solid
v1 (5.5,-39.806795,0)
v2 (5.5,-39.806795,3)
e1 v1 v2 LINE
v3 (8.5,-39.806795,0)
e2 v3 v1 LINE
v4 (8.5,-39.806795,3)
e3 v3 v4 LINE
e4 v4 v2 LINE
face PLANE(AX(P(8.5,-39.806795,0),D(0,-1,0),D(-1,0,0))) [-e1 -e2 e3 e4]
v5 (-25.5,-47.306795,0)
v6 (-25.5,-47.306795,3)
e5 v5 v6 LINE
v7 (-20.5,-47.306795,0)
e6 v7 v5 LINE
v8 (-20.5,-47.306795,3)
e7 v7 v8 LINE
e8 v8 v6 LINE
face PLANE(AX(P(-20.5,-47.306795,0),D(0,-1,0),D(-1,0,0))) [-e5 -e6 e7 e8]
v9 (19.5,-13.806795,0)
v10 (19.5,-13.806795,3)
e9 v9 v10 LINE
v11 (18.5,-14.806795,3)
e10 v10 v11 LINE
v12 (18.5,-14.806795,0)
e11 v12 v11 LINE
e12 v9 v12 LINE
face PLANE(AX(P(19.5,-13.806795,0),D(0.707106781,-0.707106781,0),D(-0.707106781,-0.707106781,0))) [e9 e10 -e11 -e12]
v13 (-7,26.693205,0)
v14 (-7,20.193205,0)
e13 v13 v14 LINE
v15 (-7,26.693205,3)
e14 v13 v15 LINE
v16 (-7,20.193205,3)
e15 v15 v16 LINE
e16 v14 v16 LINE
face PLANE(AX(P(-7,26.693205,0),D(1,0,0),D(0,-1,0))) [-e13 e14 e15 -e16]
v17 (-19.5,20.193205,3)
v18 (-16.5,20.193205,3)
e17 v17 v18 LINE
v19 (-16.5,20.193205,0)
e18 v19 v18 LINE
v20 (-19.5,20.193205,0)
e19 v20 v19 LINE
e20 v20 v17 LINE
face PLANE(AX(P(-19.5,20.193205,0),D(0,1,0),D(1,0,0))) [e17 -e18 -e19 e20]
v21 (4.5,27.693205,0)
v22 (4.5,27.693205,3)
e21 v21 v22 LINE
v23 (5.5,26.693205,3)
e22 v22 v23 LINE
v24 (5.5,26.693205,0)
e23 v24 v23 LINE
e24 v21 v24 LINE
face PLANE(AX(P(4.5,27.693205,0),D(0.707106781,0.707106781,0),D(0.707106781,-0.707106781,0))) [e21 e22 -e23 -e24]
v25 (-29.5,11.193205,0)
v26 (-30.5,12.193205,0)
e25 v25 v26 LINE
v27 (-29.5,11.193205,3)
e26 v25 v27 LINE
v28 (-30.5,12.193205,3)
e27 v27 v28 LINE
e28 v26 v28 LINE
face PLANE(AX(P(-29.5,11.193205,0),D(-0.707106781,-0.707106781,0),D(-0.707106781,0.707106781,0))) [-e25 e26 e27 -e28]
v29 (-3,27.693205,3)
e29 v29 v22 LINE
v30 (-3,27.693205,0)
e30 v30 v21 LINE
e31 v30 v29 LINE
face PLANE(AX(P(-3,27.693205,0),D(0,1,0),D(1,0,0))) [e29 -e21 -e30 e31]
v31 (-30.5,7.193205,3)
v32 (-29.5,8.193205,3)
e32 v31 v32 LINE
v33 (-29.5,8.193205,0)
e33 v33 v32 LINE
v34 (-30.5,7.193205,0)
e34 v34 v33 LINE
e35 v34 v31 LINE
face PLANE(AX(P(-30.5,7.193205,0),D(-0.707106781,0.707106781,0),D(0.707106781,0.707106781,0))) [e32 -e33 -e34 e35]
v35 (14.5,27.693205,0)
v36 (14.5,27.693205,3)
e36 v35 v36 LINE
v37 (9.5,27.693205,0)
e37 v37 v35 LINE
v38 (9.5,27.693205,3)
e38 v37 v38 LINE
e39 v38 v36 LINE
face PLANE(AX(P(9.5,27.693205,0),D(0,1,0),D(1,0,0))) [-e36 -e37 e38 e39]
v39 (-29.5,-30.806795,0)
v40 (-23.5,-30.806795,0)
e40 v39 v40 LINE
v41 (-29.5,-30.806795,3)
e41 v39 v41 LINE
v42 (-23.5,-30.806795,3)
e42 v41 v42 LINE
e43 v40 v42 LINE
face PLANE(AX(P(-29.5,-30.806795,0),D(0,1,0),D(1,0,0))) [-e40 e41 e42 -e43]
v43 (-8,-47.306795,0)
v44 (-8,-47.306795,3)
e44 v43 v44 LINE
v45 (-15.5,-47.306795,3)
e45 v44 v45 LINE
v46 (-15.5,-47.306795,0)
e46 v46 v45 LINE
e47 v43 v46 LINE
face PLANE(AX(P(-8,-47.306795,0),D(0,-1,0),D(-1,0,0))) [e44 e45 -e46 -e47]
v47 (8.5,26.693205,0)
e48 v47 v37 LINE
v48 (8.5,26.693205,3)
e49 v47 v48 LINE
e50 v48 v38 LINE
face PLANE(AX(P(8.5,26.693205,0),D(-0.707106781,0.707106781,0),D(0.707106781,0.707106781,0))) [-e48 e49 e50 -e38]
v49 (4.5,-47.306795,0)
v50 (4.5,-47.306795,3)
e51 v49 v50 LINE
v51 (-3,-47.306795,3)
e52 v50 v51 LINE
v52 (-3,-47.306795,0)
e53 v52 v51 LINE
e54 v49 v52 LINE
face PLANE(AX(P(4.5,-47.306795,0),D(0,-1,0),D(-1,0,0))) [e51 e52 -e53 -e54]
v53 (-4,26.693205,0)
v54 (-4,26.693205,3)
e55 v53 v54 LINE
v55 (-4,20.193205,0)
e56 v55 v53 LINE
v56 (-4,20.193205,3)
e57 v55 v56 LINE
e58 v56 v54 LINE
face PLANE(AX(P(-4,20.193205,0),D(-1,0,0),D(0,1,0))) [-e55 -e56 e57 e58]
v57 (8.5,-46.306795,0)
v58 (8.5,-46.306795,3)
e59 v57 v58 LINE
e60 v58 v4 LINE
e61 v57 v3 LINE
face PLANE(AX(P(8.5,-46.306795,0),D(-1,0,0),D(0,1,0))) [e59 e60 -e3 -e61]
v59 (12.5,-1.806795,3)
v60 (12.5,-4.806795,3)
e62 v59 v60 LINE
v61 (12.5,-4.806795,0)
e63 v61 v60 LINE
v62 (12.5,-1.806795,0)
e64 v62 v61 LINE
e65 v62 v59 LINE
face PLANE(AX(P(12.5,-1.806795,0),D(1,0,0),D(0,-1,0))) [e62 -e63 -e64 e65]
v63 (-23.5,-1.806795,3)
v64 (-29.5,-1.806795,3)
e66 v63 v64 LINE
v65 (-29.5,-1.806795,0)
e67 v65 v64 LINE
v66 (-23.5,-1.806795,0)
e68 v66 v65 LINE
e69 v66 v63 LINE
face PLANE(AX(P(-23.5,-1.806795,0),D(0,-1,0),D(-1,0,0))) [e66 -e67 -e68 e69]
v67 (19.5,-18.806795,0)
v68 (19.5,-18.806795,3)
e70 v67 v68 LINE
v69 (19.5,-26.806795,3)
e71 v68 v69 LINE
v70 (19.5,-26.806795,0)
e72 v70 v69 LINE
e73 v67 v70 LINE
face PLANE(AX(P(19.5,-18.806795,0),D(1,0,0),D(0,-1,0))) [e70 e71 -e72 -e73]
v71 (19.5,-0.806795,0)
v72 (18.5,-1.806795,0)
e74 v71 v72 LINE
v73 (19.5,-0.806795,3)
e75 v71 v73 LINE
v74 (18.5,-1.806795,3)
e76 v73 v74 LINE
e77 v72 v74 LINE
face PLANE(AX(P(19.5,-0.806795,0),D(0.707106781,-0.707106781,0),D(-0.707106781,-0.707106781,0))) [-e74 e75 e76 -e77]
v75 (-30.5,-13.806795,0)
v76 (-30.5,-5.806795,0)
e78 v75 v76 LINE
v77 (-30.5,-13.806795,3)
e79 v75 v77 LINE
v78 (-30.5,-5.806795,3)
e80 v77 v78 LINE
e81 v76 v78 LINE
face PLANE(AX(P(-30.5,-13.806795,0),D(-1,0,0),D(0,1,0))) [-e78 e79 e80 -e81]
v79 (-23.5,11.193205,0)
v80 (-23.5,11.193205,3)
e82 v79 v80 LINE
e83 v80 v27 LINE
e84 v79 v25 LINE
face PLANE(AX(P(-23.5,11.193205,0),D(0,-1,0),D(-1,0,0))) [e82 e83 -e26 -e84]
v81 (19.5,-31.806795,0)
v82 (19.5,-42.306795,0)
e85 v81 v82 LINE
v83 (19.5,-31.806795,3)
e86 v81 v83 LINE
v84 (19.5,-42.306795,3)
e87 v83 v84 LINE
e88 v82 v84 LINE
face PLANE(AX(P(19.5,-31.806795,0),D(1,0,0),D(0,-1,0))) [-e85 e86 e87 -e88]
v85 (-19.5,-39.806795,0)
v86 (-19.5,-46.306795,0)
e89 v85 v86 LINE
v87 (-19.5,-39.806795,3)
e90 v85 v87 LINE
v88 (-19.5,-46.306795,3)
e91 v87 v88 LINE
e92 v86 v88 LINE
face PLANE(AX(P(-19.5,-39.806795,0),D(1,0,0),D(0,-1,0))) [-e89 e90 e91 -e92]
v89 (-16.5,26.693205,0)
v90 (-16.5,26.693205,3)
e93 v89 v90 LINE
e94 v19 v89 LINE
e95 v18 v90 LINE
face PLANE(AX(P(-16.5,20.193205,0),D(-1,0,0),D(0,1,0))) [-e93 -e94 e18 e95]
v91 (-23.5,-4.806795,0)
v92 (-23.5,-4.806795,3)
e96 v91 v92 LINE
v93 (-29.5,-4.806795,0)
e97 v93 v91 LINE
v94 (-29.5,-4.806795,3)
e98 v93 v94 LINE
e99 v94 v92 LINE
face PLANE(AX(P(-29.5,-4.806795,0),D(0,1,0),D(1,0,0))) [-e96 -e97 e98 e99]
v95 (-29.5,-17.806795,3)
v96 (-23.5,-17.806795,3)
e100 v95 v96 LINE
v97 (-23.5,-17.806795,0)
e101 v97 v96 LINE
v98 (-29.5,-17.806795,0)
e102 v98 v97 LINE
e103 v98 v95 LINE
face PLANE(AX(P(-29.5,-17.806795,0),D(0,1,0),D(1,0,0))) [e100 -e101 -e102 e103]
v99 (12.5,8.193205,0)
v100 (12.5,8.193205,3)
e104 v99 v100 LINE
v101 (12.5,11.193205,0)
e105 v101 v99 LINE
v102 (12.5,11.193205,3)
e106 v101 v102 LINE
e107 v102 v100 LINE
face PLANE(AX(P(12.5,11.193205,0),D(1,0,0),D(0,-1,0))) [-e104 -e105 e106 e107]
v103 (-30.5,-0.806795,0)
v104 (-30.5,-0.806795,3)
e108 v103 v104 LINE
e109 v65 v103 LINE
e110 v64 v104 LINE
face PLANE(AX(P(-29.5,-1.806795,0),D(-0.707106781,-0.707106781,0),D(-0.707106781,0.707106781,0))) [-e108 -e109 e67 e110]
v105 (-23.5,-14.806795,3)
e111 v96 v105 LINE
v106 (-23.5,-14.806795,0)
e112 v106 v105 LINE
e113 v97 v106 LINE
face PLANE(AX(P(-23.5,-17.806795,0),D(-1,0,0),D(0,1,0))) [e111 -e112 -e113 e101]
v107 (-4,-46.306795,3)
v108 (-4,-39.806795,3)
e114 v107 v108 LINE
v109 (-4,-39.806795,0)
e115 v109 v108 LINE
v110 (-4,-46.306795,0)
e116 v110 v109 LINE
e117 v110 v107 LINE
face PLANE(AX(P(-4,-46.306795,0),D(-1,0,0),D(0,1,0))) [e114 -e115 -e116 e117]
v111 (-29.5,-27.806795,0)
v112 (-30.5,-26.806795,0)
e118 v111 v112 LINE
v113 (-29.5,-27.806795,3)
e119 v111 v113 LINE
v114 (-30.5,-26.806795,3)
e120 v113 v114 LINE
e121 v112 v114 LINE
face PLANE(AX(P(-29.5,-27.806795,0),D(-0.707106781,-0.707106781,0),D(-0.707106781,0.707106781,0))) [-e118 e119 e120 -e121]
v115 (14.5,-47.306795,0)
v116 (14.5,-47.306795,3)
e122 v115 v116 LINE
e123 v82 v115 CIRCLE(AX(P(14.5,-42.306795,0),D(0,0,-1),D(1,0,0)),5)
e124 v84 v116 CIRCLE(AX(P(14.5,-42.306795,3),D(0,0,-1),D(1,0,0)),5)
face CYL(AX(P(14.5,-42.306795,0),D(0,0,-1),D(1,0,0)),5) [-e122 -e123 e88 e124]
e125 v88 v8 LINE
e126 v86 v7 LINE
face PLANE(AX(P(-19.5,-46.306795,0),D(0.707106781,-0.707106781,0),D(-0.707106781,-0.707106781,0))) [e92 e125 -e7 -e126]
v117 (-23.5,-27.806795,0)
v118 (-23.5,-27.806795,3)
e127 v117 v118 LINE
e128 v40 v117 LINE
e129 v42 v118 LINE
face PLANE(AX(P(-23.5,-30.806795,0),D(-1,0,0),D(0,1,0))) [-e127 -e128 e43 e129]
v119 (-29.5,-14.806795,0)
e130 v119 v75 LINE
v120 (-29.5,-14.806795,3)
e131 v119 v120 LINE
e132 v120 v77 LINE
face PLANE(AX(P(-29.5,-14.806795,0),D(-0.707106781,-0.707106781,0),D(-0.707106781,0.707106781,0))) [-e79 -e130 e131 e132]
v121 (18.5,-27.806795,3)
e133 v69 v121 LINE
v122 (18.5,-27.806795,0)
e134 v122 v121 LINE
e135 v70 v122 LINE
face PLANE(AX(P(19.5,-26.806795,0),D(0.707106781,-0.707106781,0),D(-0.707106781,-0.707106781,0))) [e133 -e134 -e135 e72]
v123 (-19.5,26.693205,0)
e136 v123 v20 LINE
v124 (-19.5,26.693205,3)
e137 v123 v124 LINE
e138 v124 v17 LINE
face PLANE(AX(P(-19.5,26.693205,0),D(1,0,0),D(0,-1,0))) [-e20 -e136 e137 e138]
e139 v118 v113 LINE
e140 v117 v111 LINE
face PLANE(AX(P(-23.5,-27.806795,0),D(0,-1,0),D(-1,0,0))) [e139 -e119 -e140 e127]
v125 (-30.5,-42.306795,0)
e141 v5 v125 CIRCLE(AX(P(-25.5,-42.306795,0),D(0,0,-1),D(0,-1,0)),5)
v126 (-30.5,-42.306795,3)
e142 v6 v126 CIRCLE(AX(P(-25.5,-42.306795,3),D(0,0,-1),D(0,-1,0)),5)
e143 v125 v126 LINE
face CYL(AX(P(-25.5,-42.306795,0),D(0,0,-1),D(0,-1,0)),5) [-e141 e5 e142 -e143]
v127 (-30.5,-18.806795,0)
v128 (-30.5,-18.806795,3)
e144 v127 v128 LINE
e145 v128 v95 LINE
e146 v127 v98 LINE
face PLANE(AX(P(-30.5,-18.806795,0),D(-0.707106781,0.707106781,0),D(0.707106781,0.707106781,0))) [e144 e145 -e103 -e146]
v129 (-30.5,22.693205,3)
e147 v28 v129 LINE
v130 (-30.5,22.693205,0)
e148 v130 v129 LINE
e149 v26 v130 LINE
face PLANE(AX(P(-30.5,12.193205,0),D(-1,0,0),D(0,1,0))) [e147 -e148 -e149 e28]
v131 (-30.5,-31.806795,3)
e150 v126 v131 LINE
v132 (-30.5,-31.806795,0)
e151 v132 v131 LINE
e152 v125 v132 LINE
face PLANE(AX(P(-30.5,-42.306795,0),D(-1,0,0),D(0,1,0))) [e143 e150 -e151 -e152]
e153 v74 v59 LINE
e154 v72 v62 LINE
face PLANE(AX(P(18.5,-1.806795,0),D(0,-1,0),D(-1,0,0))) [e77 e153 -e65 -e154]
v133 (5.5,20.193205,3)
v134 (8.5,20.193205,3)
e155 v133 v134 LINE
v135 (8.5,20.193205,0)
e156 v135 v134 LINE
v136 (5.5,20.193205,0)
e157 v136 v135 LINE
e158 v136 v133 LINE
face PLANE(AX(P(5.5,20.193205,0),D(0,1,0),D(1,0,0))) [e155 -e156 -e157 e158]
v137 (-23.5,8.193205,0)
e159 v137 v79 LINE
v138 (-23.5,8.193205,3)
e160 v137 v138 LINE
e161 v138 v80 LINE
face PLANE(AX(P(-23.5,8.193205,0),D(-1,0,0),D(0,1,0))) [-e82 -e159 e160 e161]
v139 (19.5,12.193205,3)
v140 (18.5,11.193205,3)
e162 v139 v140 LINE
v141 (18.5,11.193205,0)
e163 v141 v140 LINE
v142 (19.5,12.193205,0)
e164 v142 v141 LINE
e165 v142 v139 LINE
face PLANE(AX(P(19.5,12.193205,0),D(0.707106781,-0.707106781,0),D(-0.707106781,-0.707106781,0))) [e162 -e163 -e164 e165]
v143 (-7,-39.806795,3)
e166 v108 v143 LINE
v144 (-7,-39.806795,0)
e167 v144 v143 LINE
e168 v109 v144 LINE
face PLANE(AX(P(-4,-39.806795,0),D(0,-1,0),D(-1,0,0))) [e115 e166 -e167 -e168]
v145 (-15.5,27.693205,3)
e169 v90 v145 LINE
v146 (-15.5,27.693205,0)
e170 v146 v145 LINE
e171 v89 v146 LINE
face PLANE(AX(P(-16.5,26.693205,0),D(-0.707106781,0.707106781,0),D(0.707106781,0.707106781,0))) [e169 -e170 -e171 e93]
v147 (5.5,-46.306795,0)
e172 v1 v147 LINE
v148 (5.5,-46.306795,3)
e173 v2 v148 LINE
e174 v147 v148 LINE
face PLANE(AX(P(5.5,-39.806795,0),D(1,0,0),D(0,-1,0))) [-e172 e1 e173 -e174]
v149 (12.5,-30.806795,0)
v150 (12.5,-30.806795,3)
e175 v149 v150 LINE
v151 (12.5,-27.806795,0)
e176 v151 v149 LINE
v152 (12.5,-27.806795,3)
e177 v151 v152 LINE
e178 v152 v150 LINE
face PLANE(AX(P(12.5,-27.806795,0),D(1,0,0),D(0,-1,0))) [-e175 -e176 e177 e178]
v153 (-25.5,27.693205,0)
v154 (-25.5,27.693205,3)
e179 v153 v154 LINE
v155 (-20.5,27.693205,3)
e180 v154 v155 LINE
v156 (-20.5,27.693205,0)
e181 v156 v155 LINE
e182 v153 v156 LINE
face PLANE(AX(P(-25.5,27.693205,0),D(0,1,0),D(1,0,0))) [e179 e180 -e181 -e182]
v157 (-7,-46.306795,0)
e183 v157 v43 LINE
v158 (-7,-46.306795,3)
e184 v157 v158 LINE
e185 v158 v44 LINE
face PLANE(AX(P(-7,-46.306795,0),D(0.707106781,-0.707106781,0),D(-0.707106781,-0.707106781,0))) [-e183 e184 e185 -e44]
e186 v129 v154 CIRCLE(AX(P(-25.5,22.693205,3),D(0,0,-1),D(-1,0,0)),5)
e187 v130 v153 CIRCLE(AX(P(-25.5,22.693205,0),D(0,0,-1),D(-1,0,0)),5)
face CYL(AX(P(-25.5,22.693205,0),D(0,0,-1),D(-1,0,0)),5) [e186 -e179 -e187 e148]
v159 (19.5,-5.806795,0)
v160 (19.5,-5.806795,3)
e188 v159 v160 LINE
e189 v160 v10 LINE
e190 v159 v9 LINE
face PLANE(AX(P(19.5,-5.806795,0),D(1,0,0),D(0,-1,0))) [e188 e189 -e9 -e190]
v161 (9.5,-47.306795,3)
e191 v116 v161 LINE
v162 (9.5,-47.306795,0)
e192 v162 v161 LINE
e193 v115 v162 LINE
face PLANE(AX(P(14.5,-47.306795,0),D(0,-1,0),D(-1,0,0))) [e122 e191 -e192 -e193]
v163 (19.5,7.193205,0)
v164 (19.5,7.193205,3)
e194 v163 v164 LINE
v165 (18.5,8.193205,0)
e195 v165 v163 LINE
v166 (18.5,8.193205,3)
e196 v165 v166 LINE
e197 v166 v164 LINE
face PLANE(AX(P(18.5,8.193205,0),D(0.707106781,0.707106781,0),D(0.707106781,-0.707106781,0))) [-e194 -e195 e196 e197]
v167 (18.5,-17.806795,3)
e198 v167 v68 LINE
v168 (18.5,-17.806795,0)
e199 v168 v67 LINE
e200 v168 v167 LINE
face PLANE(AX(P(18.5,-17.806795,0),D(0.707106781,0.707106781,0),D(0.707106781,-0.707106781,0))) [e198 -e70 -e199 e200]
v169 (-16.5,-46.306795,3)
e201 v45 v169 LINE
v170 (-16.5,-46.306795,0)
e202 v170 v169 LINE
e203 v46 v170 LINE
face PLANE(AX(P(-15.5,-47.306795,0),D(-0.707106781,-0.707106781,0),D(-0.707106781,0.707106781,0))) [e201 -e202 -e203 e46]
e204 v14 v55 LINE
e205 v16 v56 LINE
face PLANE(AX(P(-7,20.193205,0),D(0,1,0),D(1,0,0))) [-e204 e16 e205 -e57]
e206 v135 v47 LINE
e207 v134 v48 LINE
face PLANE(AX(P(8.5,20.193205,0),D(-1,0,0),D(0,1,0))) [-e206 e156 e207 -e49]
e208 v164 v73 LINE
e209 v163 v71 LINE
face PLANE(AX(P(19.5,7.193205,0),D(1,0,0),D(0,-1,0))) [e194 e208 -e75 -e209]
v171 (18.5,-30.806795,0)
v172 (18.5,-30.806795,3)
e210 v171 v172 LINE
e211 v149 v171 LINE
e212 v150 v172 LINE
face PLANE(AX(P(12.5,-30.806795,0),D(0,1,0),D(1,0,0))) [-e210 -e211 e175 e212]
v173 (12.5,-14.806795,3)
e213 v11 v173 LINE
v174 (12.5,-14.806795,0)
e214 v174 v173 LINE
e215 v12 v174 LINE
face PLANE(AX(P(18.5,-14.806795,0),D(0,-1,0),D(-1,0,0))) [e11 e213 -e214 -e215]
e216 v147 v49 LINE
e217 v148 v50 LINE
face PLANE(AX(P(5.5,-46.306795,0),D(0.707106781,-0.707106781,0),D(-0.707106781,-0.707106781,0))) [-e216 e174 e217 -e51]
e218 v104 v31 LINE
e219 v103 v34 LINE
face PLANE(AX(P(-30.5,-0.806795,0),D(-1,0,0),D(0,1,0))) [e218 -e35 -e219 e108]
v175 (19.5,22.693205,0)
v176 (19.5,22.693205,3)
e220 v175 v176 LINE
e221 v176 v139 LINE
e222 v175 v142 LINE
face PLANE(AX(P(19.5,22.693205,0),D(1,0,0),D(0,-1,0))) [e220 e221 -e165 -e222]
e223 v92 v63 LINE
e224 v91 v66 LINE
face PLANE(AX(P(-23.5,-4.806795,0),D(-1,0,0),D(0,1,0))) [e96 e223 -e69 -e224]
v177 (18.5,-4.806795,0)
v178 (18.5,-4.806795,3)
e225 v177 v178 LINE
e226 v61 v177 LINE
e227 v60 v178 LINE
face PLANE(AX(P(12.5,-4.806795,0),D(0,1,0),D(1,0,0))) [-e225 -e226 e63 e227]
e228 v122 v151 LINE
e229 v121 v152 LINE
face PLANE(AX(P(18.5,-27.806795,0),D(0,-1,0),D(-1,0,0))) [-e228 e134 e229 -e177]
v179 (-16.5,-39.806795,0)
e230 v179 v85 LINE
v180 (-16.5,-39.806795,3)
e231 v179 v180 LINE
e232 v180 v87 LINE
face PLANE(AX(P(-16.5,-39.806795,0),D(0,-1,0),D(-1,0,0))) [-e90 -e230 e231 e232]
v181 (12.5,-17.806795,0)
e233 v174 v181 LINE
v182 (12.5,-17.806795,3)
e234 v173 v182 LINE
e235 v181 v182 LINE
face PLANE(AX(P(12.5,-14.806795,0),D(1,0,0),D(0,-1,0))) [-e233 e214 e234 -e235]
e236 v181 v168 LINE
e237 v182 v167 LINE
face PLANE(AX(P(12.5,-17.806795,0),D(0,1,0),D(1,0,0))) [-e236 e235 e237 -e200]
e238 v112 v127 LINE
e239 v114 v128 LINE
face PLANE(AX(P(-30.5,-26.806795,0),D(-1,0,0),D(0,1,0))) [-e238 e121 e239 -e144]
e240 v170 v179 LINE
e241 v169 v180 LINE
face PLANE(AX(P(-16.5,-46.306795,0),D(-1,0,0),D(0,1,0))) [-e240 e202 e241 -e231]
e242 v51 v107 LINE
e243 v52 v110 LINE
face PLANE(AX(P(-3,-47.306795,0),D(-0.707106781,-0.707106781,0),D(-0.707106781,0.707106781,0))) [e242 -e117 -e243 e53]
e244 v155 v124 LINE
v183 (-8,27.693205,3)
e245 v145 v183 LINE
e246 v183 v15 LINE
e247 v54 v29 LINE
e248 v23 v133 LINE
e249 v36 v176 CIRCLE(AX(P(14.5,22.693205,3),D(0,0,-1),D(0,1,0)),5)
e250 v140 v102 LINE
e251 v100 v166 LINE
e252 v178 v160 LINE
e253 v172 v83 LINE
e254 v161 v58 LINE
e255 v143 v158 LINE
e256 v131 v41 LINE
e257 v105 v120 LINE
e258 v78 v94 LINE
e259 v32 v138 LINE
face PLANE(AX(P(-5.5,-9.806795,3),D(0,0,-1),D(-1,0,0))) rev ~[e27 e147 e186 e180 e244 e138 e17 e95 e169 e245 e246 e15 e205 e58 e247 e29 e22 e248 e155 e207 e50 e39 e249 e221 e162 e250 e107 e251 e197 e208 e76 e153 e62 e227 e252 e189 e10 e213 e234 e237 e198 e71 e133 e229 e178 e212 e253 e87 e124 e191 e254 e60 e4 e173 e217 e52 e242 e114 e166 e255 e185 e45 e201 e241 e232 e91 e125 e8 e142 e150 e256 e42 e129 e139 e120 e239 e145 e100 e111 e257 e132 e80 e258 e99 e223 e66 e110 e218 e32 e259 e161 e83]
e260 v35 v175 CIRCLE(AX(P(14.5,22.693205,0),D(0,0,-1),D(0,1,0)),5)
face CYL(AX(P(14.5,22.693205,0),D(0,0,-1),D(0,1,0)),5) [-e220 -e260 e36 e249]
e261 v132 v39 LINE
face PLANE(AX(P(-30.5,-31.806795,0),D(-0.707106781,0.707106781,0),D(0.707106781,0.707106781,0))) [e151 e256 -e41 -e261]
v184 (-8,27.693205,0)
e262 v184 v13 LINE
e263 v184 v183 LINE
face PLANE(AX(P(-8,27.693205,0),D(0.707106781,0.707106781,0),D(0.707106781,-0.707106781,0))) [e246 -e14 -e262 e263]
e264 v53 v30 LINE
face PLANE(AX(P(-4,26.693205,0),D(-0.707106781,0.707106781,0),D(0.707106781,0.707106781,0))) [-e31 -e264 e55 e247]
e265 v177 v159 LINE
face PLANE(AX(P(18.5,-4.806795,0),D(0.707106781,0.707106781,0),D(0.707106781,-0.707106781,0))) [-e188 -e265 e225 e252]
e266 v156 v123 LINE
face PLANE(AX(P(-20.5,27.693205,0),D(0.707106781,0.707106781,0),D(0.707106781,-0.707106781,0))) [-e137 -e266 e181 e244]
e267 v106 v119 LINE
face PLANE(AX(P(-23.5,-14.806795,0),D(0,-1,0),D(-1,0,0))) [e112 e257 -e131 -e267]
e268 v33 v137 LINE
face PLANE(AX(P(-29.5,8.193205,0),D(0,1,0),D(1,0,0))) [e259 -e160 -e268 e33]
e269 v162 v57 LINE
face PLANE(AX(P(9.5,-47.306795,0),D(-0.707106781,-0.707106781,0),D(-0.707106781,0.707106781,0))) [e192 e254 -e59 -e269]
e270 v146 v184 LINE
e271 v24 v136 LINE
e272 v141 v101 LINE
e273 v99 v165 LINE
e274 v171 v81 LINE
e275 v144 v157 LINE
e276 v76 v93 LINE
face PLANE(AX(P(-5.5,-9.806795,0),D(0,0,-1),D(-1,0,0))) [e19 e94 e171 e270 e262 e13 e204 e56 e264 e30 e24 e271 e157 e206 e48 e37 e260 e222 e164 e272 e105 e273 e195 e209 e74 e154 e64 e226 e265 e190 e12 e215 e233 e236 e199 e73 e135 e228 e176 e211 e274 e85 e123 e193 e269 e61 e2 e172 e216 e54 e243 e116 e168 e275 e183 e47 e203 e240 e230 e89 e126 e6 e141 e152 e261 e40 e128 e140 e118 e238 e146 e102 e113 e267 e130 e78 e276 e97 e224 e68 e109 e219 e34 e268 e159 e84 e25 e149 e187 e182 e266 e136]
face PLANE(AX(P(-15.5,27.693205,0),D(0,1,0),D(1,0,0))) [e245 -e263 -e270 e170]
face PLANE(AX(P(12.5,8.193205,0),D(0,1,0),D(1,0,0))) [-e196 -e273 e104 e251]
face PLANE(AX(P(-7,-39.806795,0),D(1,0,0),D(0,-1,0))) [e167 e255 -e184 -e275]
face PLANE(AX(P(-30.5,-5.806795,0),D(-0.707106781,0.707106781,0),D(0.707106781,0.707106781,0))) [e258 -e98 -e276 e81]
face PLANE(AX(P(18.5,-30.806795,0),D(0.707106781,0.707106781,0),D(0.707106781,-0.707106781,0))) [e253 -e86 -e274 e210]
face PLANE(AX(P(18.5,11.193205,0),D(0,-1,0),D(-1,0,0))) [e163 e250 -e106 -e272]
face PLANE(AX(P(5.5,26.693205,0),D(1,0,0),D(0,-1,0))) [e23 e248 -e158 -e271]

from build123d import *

# Parameters (mm, degrees)
BOSS_EXTRUDE1_DEPTH = 3


with BuildPart() as part:
    # Sketch1 → Boss-Extrude1 (new body)
    with BuildSketch(Plane.XY):
        with BuildLine():
            Line((-15.5, 27.693204924), (-8, 27.693204924))
            Line((-8, 27.693204924), (-7, 26.693204924))
            Line((-7, 26.693204924), (-7, 20.193204924))
            Line((-7, 20.193204924), (-4, 20.193204924))
            Line((-4, 20.193204924), (-4, 26.693204924))
            Line((-4, 26.693204924), (-3, 27.693204924))
            Line((-3, 27.693204924), (4.5, 27.693204924))
            Line((4.5, 27.693204924), (5.5, 26.693204924))
            Line((5.5, 26.693204924), (5.5, 20.193204924))
            Line((5.5, 20.193204924), (8.5, 20.193204924))
            Line((8.5, 20.193204924), (8.5, 26.693204924))
            Line((8.5, 26.693204924), (9.5, 27.693204924))
            Line((9.5, 27.693204924), (14.5, 27.693204924))
            ThreePointArc((14.5, 27.693204924), (18.035533906, 26.22873883), (19.5, 22.693204924))
            Line((19.5, 22.693204924), (19.5, 12.193204924))
            Line((19.5, 12.193204924), (18.5, 11.193204924))
            Line((18.5, 11.193204924), (12.5, 11.193204924))
            Line((12.5, 11.193204924), (12.5, 8.193204924))
            Line((12.5, 8.193204924), (18.5, 8.193204924))
            Line((18.5, 8.193204924), (19.5, 7.193204924))
            Line((19.5, 7.193204924), (19.5, -0.806795076))
            Line((19.5, -0.806795076), (18.5, -1.806795076))
            Line((18.5, -1.806795076), (12.5, -1.806795076))
            Line((12.5, -1.806795076), (12.5, -4.806795076))
            Line((12.5, -4.806795076), (18.5, -4.806795076))
            Line((18.5, -4.806795076), (19.5, -5.806795076))
            Line((19.5, -5.806795076), (19.5, -13.806795076))
            Line((19.5, -13.806795076), (18.5, -14.806795076))
            Line((18.5, -14.806795076), (12.5, -14.806795076))
            Line((12.5, -14.806795076), (12.5, -17.806795076))
            Line((12.5, -17.806795076), (18.5, -17.806795076))
            Line((18.5, -17.806795076), (19.5, -18.806795076))
            Line((19.5, -18.806795076), (19.5, -26.806795076))
            Line((19.5, -26.806795076), (18.5, -27.806795076))
            Line((18.5, -27.806795076), (12.5, -27.806795076))
            Line((12.5, -27.806795076), (12.5, -30.806795076))
            Line((12.5, -30.806795076), (18.5, -30.806795076))
            Line((18.5, -30.806795076), (19.5, -31.806795076))
            Line((19.5, -31.806795076), (19.5, -42.306795076))
            ThreePointArc((19.5, -42.306795076), (18.035533906, -45.842328982), (14.5, -47.306795076))
            Line((14.5, -47.306795076), (9.5, -47.306795076))
            Line((9.5, -47.306795076), (8.5, -46.306795076))
            Line((8.5, -46.306795076), (8.5, -39.806795076))
            Line((8.5, -39.806795076), (5.5, -39.806795076))
            Line((5.5, -39.806795076), (5.5, -46.306795076))
            Line((5.5, -46.306795076), (4.5, -47.306795076))
            Line((4.5, -47.306795076), (-3, -47.306795076))
            Line((-3, -47.306795076), (-4, -46.306795076))
            Line((-4, -46.306795076), (-4, -39.806795076))
            Line((-4, -39.806795076), (-7, -39.806795076))
            Line((-7, -39.806795076), (-7, -46.306795076))
            Line((-7, -46.306795076), (-8, -47.306795076))
            Line((-8, -47.306795076), (-15.5, -47.306795076))
            Line((-15.5, -47.306795076), (-16.5, -46.306795076))
            Line((-16.5, -46.306795076), (-16.5, -39.806795076))
            Line((-16.5, -39.806795076), (-19.5, -39.806795076))
            Line((-19.5, -39.806795076), (-19.5, -46.306795076))
            Line((-19.5, -46.306795076), (-20.5, -47.306795076))
            Line((-20.5, -47.306795076), (-25.5, -47.306795076))
            ThreePointArc((-25.5, -47.306795076), (-29.035533906, -45.842328982), (-30.5, -42.306795076))
            Line((-30.5, -42.306795076), (-30.5, -31.806795076))
            Line((-30.5, -31.806795076), (-29.5, -30.806795076))
            Line((-29.5, -30.806795076), (-23.5, -30.806795076))
            Line((-23.5, -30.806795076), (-23.5, -27.806795076))
            Line((-23.5, -27.806795076), (-29.5, -27.806795076))
            Line((-29.5, -27.806795076), (-30.5, -26.806795076))
            Line((-30.5, -26.806795076), (-30.5, -18.806795076))
            Line((-30.5, -18.806795076), (-29.5, -17.806795076))
            Line((-29.5, -17.806795076), (-23.5, -17.806795076))
            Line((-23.5, -17.806795076), (-23.5, -14.806795076))
            Line((-23.5, -14.806795076), (-29.5, -14.806795076))
            Line((-29.5, -14.806795076), (-30.5, -13.806795076))
            Line((-30.5, -13.806795076), (-30.5, -5.806795076))
            Line((-30.5, -5.806795076), (-29.5, -4.806795076))
            Line((-29.5, -4.806795076), (-23.5, -4.806795076))
            Line((-23.5, -4.806795076), (-23.5, -1.806795076))
            Line((-23.5, -1.806795076), (-29.5, -1.806795076))
            Line((-29.5, -1.806795076), (-30.5, -0.806795076))
            Line((-30.5, -0.806795076), (-30.5, 7.193204924))
            Line((-30.5, 7.193204924), (-29.5, 8.193204924))
            Line((-29.5, 8.193204924), (-23.5, 8.193204924))
            Line((-23.5, 8.193204924), (-23.5, 11.193204924))
            Line((-23.5, 11.193204924), (-29.5, 11.193204924))
            Line((-29.5, 11.193204924), (-30.5, 12.193204924))
            Line((-30.5, 12.193204924), (-30.5, 22.693204924))
            ThreePointArc((-30.5, 22.693204924), (-29.035533906, 26.22873883), (-25.5, 27.693204924))
            Line((-25.5, 27.693204924), (-20.5, 27.693204924))
            Line((-20.5, 27.693204924), (-19.5, 26.693204924))
            Line((-19.5, 26.693204924), (-19.5, 20.193204924))
            Line((-19.5, 20.193204924), (-16.5, 20.193204924))
            Line((-16.5, 20.193204924), (-16.5, 26.693204924))
            Line((-16.5, 26.693204924), (-15.5, 27.693204924))
        make_face()
    extrude(amount=BOSS_EXTRUDE1_DEPTH)


solid = part.part
